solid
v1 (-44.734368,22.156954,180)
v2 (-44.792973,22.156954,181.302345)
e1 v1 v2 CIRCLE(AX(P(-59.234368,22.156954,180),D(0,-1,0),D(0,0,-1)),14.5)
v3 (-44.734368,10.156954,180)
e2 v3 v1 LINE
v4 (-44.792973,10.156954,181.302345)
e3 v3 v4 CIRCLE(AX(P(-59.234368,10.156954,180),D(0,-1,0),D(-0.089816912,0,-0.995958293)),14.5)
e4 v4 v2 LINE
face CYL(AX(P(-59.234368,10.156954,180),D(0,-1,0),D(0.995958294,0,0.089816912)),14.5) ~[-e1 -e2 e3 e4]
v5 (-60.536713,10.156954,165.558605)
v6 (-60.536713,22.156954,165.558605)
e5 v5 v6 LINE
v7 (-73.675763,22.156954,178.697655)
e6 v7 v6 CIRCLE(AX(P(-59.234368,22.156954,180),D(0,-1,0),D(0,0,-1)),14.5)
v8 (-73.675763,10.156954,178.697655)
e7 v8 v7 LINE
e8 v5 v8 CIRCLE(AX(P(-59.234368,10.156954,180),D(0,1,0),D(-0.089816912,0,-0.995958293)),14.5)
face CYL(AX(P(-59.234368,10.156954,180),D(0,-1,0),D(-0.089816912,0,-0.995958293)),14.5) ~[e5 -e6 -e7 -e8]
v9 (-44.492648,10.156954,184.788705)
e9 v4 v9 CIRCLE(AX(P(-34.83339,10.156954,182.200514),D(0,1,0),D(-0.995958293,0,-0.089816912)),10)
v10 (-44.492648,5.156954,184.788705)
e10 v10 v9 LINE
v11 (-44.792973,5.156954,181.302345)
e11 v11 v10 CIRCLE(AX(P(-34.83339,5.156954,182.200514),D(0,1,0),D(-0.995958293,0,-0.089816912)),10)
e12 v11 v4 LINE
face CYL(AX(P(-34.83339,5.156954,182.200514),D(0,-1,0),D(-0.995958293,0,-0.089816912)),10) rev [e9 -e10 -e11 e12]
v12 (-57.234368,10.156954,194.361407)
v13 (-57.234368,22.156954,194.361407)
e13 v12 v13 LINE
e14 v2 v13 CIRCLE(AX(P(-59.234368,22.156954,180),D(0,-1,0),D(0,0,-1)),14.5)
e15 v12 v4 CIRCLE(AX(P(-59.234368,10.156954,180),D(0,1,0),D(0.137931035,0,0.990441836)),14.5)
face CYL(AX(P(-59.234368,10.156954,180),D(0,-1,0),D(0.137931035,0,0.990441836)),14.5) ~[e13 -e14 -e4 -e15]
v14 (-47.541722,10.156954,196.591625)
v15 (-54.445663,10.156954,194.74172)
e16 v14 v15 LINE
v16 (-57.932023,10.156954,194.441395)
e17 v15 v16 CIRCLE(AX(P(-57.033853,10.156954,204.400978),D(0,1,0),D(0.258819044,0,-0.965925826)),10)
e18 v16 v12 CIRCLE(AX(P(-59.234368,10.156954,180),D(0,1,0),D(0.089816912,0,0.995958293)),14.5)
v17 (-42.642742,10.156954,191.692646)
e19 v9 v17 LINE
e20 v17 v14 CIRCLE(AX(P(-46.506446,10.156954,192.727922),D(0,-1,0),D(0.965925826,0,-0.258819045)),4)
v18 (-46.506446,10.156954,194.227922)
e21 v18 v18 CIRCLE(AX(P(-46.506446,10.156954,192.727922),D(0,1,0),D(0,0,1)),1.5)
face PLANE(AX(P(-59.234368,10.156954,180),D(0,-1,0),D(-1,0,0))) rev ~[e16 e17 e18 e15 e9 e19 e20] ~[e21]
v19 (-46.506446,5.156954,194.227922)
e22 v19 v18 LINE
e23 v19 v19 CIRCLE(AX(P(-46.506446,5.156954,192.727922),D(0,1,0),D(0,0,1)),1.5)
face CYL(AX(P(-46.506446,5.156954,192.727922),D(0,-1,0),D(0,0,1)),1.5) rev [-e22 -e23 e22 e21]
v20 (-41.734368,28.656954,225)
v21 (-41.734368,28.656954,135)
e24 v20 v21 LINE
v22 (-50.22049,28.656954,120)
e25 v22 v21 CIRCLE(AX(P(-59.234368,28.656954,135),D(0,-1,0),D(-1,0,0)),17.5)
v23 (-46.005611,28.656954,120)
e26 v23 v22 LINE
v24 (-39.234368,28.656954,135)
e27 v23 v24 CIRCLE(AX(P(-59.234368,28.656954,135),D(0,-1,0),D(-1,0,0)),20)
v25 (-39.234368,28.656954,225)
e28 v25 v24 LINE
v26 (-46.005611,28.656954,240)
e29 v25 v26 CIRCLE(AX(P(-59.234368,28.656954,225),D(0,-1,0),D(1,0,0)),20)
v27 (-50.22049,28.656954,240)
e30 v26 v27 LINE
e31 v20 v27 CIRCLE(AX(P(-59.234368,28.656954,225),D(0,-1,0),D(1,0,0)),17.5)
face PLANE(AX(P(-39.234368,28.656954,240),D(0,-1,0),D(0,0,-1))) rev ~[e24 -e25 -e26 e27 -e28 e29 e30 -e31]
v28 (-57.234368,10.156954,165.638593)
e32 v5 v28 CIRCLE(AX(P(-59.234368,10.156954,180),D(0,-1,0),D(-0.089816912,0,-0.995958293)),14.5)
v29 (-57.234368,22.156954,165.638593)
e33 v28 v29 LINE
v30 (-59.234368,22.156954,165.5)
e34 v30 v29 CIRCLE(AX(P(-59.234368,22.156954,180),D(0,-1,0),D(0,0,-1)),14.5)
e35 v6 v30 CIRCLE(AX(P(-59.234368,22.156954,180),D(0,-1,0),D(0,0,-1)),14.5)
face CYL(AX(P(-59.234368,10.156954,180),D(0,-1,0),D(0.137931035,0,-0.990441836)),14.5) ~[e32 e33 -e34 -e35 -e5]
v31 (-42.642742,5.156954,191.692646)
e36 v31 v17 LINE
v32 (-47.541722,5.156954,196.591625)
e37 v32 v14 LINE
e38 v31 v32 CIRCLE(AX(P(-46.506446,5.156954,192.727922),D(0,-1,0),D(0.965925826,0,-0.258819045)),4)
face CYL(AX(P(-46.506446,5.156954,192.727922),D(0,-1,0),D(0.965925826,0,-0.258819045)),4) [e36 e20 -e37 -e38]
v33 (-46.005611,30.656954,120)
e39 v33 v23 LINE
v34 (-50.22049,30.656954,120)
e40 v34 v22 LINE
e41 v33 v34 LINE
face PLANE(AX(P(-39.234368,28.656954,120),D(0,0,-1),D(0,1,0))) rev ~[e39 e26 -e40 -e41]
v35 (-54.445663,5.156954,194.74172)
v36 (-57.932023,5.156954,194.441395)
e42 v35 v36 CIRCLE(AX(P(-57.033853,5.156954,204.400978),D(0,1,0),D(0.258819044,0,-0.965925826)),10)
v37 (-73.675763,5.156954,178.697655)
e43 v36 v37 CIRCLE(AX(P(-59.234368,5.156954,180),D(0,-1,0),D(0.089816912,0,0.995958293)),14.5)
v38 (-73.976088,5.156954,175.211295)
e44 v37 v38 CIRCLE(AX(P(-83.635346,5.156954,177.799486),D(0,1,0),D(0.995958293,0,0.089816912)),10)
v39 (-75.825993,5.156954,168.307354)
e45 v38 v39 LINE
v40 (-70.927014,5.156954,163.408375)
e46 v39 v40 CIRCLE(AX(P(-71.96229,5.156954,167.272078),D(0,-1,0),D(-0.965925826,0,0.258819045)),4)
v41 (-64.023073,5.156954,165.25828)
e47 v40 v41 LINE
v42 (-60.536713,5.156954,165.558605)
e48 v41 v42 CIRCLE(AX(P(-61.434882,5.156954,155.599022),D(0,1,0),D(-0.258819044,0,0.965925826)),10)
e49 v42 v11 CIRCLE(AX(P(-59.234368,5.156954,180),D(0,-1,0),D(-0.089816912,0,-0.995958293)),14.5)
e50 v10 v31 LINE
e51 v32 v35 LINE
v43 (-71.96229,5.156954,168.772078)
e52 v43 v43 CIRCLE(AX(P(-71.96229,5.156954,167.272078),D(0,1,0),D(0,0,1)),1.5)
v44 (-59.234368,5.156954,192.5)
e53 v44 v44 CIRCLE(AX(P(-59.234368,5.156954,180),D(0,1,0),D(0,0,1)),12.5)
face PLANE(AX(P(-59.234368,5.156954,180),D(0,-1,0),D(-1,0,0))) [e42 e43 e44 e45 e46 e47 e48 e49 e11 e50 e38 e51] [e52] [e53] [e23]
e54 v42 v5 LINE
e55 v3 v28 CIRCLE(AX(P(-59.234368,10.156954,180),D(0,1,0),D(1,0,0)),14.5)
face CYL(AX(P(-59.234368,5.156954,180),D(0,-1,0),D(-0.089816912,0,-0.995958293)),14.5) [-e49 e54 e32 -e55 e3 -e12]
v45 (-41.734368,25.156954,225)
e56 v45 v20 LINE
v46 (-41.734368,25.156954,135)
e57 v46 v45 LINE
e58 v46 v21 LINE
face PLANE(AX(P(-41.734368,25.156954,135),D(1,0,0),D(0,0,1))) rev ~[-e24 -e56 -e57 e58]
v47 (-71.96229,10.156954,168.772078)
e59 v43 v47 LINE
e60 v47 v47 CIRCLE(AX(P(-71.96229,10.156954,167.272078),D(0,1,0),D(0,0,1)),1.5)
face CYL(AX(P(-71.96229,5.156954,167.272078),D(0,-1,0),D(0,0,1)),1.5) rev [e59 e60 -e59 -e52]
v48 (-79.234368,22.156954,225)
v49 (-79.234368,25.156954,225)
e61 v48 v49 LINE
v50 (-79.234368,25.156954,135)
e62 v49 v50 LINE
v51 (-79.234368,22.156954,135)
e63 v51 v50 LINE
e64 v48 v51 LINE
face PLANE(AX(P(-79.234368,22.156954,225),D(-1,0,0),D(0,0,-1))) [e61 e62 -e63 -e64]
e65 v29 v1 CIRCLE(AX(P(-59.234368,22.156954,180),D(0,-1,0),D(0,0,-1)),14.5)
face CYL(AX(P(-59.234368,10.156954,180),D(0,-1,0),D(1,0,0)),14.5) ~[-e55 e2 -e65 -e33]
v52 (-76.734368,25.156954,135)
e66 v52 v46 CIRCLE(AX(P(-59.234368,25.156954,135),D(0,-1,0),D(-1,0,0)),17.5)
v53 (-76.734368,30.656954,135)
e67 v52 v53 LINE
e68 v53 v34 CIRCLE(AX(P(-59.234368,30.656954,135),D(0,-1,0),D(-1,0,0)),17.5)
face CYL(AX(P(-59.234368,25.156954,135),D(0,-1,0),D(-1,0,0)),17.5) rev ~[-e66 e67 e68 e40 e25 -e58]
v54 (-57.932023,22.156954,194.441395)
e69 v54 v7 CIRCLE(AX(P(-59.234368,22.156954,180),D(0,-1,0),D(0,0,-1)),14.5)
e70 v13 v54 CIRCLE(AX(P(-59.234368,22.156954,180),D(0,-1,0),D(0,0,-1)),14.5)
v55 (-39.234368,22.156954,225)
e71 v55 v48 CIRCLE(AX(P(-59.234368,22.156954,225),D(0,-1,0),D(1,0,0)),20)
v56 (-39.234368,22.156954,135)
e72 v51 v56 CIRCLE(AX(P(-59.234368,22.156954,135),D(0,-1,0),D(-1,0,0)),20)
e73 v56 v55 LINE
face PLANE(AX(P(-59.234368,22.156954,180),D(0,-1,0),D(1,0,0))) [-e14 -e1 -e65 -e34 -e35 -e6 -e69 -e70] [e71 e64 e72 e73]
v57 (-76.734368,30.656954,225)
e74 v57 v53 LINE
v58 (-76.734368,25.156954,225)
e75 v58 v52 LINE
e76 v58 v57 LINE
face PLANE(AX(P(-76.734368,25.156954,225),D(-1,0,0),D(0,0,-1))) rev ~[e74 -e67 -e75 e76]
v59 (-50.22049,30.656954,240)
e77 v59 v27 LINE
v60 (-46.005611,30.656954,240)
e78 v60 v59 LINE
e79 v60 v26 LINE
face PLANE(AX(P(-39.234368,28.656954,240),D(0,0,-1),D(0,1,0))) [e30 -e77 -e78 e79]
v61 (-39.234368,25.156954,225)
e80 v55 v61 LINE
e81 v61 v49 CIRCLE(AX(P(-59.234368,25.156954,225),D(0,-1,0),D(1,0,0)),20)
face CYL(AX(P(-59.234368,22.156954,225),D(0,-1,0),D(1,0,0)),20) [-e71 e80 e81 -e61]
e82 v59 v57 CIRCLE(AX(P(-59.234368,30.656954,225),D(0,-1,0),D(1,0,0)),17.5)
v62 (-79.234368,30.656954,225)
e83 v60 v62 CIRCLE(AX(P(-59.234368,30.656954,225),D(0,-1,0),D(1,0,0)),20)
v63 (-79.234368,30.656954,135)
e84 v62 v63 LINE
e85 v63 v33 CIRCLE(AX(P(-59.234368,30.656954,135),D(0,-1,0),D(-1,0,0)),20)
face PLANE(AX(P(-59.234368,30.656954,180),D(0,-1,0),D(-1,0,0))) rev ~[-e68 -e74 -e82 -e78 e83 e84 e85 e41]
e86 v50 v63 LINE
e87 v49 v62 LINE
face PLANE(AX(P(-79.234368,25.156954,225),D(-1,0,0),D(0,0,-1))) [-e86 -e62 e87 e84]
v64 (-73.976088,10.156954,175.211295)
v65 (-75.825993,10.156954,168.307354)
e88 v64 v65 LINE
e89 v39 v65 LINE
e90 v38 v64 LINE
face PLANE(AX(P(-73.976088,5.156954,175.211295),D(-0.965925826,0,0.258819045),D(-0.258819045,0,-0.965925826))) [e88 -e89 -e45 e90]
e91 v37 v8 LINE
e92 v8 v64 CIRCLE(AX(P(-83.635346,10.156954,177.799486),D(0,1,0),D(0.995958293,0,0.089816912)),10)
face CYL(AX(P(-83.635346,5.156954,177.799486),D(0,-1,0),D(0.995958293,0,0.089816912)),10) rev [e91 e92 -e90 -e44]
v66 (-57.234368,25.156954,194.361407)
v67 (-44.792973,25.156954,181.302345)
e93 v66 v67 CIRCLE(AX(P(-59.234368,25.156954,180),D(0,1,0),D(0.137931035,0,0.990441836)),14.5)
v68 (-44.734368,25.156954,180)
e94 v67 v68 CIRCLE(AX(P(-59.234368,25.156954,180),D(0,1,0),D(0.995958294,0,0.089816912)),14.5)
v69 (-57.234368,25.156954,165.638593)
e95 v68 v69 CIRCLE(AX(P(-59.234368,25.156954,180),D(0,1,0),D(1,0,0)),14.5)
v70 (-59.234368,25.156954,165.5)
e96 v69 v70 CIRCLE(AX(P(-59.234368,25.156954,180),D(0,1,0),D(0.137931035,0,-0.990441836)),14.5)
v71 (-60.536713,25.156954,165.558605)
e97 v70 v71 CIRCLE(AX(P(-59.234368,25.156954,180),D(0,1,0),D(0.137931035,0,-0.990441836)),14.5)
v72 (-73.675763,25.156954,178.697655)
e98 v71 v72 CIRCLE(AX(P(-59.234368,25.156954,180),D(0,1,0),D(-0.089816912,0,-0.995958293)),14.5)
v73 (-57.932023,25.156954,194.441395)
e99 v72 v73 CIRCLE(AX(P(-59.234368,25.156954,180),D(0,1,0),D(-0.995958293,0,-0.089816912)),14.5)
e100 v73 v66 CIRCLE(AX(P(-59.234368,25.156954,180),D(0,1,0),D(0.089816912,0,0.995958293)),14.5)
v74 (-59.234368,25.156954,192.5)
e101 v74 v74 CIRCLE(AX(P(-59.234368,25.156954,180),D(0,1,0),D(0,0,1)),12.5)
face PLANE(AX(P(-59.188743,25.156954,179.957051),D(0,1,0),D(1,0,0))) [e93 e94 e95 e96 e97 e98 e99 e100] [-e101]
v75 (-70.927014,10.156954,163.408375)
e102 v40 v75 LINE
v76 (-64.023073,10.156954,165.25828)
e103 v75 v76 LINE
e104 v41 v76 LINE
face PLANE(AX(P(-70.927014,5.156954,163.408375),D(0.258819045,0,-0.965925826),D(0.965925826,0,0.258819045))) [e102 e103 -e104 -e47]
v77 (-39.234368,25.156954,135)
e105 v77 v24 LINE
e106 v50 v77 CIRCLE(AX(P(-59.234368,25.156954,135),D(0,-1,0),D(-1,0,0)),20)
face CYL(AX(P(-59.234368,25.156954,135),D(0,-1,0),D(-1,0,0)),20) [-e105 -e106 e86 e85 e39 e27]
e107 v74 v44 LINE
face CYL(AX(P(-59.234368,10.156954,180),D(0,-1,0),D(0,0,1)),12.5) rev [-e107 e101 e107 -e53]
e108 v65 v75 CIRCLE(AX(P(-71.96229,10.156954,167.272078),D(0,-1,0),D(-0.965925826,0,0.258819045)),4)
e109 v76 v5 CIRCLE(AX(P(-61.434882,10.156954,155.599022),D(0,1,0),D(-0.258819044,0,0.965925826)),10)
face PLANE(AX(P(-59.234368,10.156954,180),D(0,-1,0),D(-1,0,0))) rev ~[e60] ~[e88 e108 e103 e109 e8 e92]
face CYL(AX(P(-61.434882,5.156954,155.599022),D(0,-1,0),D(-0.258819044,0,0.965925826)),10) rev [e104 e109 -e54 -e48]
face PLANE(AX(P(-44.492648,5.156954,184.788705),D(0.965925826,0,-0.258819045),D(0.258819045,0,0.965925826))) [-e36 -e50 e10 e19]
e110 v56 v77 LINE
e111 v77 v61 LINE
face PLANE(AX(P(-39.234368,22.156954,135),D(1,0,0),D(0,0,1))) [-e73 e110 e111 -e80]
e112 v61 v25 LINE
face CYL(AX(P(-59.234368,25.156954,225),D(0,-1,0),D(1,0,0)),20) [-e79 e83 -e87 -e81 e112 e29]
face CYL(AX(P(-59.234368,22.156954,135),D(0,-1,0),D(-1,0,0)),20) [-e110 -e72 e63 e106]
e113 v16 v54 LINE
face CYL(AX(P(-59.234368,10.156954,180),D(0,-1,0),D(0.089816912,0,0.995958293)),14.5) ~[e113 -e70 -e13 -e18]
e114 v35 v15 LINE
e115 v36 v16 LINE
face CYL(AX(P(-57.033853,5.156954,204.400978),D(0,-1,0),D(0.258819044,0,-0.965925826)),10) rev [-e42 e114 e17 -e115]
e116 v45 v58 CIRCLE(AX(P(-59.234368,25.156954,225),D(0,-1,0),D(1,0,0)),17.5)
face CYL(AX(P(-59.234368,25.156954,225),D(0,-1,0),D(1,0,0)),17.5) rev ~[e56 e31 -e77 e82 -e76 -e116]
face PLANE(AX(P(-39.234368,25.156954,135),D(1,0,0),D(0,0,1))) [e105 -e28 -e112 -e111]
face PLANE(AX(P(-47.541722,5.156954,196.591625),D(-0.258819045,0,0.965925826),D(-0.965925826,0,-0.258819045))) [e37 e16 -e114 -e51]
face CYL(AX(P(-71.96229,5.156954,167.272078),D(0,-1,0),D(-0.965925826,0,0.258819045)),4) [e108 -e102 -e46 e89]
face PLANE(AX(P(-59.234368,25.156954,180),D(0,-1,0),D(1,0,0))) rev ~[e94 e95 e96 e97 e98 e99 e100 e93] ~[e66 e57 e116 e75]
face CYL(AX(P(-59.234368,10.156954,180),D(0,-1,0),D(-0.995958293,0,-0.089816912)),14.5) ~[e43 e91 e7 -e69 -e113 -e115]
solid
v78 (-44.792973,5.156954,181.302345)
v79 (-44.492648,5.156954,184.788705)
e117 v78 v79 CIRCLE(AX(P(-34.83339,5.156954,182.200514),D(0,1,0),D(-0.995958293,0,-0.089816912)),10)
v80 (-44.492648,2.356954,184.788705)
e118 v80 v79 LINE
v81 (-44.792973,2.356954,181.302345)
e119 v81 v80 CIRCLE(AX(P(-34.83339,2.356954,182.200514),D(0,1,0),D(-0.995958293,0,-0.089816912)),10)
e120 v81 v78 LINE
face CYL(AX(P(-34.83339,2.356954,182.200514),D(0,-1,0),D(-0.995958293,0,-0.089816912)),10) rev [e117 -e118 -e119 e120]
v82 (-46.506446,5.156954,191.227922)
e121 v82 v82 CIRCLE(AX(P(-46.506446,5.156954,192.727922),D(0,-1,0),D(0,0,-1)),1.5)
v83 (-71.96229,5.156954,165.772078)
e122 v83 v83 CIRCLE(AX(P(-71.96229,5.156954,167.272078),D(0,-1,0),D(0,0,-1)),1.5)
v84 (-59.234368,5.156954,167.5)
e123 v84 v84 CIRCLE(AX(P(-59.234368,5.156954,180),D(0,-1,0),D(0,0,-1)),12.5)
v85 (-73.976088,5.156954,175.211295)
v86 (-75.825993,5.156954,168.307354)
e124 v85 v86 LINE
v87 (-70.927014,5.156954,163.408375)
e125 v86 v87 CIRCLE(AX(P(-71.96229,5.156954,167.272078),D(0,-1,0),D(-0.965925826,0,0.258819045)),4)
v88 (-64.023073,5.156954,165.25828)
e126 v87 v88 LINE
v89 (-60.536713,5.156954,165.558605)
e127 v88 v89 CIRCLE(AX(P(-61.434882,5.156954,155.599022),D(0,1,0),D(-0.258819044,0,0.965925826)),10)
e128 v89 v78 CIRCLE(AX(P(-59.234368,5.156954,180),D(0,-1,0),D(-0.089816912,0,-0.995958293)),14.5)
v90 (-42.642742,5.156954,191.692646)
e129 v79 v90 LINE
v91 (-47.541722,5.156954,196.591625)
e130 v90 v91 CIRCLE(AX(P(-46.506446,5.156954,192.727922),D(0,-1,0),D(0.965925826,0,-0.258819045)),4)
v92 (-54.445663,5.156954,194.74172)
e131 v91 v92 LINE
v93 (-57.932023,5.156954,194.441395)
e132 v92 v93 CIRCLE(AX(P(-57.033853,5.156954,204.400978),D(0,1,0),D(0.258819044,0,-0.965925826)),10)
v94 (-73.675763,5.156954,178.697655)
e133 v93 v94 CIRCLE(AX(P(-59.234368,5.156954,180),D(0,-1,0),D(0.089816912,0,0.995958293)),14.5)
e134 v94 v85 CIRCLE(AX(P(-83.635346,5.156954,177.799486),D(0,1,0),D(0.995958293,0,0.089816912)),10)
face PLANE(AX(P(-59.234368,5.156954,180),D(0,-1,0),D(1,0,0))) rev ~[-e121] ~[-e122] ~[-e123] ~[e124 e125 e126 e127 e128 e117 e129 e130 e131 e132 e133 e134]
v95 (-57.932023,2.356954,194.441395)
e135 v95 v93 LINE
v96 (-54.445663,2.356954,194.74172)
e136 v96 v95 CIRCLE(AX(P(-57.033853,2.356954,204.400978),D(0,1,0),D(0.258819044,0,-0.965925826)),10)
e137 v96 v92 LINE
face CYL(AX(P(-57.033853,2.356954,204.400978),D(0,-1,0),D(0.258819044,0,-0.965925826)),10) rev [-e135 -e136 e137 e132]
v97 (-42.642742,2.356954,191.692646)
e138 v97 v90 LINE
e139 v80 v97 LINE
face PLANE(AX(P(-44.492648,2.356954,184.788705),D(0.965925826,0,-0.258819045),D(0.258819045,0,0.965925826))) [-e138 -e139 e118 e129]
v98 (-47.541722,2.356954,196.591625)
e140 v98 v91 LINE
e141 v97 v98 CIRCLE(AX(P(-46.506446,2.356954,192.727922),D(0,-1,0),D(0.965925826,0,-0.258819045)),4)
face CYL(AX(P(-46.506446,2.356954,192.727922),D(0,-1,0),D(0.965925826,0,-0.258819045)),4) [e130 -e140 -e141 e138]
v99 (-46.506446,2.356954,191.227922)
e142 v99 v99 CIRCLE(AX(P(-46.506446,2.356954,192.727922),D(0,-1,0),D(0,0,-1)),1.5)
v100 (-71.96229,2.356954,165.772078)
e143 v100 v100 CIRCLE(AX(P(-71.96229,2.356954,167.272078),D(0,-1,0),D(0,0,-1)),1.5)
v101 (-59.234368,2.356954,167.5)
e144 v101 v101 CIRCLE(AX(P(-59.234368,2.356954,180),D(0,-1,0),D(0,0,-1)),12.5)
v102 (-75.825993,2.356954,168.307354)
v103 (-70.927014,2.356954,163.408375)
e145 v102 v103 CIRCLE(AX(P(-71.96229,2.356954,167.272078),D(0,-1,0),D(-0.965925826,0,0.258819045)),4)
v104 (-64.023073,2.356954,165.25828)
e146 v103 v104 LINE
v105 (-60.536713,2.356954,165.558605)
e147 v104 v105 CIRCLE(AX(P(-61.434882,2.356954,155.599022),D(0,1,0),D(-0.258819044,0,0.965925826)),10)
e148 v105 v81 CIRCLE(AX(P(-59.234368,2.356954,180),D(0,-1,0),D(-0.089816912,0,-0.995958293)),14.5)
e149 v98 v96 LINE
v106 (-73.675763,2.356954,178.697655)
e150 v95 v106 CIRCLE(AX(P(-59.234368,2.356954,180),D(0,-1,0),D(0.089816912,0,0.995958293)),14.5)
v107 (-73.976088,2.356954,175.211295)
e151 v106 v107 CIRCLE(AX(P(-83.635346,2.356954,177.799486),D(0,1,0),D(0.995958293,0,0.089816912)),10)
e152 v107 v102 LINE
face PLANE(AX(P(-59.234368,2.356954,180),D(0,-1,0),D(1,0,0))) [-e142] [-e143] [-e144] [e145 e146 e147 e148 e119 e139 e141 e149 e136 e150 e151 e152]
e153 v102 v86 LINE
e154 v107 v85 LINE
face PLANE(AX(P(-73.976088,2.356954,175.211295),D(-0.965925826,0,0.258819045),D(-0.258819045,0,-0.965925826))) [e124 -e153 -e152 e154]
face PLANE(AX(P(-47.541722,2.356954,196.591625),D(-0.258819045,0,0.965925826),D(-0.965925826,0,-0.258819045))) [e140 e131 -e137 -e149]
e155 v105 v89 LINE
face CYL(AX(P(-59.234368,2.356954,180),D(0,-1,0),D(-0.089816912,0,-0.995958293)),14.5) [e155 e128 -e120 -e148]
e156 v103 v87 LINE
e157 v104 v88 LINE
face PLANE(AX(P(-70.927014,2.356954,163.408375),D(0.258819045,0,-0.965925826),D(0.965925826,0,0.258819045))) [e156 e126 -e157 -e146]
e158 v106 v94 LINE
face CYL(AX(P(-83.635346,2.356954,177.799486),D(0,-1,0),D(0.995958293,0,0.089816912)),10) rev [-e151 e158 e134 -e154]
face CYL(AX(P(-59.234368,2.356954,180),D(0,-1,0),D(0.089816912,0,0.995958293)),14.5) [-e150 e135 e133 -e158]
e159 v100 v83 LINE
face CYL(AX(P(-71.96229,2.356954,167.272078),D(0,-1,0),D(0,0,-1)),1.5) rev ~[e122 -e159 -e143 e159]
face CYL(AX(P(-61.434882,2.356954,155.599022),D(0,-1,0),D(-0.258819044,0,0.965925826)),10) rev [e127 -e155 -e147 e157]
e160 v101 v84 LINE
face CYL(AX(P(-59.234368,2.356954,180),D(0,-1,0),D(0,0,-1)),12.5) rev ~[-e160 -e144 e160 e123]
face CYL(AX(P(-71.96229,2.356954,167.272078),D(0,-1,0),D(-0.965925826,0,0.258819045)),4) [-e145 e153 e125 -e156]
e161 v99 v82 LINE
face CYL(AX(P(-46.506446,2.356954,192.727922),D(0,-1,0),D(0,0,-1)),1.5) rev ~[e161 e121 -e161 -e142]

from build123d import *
from build123d.topology import SkipClean

# Parameters (mm, degrees)
SKETCH_1_R          = 12.5
SKETCH_1_R_2        = 1.5
EXTRUDE_1_DEPTH     = 5
SKETCH_2_R          = 12.5
EXTRUDE_2_DEPTH     = 15
EXTRUDE_9_DEPTH     = 5.5
EXTRUDE_START       = 2.8
SKETCH_12_R         = 12.5
SKETCH_12_R_2       = 1.5
EXTRUDE_8_DEPTH     = 2.8
EXTRUDE_START_2     = 3
SKETCH_15_R         = 14.5
EXTRUDE_10_DEPTH    = 3
SKETCH_16_W         = 120
SKETCH_16_H         = 2
CUT_EXTRUDE_1_DEPTH = 16


with BuildPart() as part:
    # 草圖1 → 填料-伸長1 (new body)
    with BuildSketch(Plane(origin=(0, 5.156954032, 0), x_dir=(1, 0, 0), z_dir=(0, 1, 0))):
        with BuildLine():
            ThreePointArc((-44.792972571, -181.302345222), (-44.796491977, -183.058763578), (-44.492647899, -184.788704792))
            Line((-44.492647899, -184.788704792), (-42.64274246, -191.692645881))
            ThreePointArc((-42.64274246, -191.692645881), (-43.67801864, -195.556349186), (-47.541721945, -196.591625367))
            Line((-47.541721945, -196.591625367), (-54.445663034, -194.741719927))
            ThreePointArc((-54.445663034, -194.741719927), (-56.175604248, -194.43787585), (-57.932022604, -194.441395255))
            ThreePointArc((-57.932022604, -194.441395255), (-69.487416154, -190.253048327), (-73.675763082, -178.697654778))
            ThreePointArc((-73.675763082, -178.697654778), (-73.672243676, -176.941236422), (-73.976087754, -175.211295208))
            Line((-73.976087754, -175.211295208), (-75.825993193, -168.307354119))
            ThreePointArc((-75.825993193, -168.307354119), (-74.790717013, -164.443650814), (-70.927013707, -163.408374633))
            Line((-70.927013707, -163.408374633), (-64.023072619, -165.258280073))
            ThreePointArc((-64.023072619, -165.258280073), (-62.293131405, -165.56212415), (-60.536713049, -165.558604745))
            ThreePointArc((-60.536713049, -165.558604745), (-48.981319499, -169.746951673), (-44.792972571, -181.302345222))
        make_face()
        with Locations(Location((-59.234367826, -180, 0), (0, 0, 270))):
            Circle(SKETCH_1_R, mode=Mode.SUBTRACT)
        with Locations(Location((-71.962289888, -167.272077939, 0), (0, 0, 270))):
            Circle(SKETCH_1_R_2, mode=Mode.SUBTRACT)
        with Locations(Location((-46.506445765, -192.727922061, 0), (0, 0, 270))):
            Circle(SKETCH_1_R_2, mode=Mode.SUBTRACT)
    extrude(amount=EXTRUDE_1_DEPTH)

    # 草圖2 → 填料-伸長2 (add)
    with SkipClean():  # the faces are left unmerged after this step: merging them gives an invalid solid
        with BuildSketch(Plane(origin=(0, 10.156954032, 0), x_dir=(1, 0, 0), z_dir=(0, 1, 0))):
            with BuildLine():
                ThreePointArc((-57.932022604, -194.441395255), (-57.58271092, -194.405624924), (-57.234367826, -194.361406616))
                ThreePointArc((-57.234367826, -194.361406616), (-48.736051742, -190.001767813), (-44.792972571, -181.302345222))
                ThreePointArc((-44.792972571, -181.302345222), (-44.749026422, -180.651831572), (-44.734367826, -180))
                ThreePointArc((-44.734367826, -180), (-48.297046399, -170.480283618), (-57.234367826, -165.638593384))
                ThreePointArc((-57.234367826, -165.638593384), (-58.883255177, -165.504251661), (-60.536713049, -165.558604745))
                ThreePointArc((-60.536713049, -165.558604745), (-69.487416154, -169.746951673), (-73.675763082, -178.697654778))
                ThreePointArc((-73.675763082, -178.697654778), (-69.487416154, -190.253048327), (-57.932022604, -194.441395255))
            make_face()
            with Locations(Location((-59.234367826, -180, 0), (0, 0, 270))):
                Circle(SKETCH_2_R, mode=Mode.SUBTRACT)
        extrude(amount=EXTRUDE_2_DEPTH)



with BuildPart() as body_2:
    # 草圖13 → 填料-伸長9 (new body)
    with BuildSketch(Plane(origin=(0, 25.156954032, 0), x_dir=(1, 0, 0), z_dir=(0, 1, 0))):
        with BuildLine():
            Line((-79.234367826, -225), (-79.234367826, -135))
            ThreePointArc((-79.234367826, -135), (-59.234367826, -115), (-39.234367826, -135))
            Line((-39.234367826, -135), (-39.234367826, -225))
            ThreePointArc((-39.234367826, -225), (-59.234367826, -245), (-79.234367826, -225))
        make_face()
        with BuildLine():
            Line((-76.734367826, -225), (-76.734367826, -135))
            ThreePointArc((-76.734367826, -135), (-59.234367826, -117.5), (-41.734367826, -135))
            Line((-41.734367826, -135), (-41.734367826, -225))
            ThreePointArc((-41.734367826, -225), (-59.234367826, -242.5), (-76.734367826, -225))
        make_face(mode=Mode.SUBTRACT)
    extrude(amount=EXTRUDE_9_DEPTH)


with BuildPart() as body_3:
    # 草圖12 → 填料-伸長8 (new body)
    with BuildSketch(Plane.XZ.offset(-5.156954032).offset(EXTRUDE_START)):
        with BuildLine():
            Line((-44.492647899, 184.788704792), (-42.64274246, 191.692645881))
            ThreePointArc((-42.64274246, 191.692645881), (-43.67801864, 195.556349186), (-47.541721945, 196.591625367))
            Line((-47.541721945, 196.591625367), (-54.445663034, 194.741719927))
            ThreePointArc((-54.445663034, 194.741719927), (-56.175604248, 194.43787585), (-57.932022604, 194.441395255))
            ThreePointArc((-57.932022604, 194.441395255), (-69.487416154, 190.253048327), (-73.675763082, 178.697654778))
            ThreePointArc((-73.675763082, 178.697654778), (-73.672243676, 176.941236422), (-73.976087754, 175.211295208))
            Line((-73.976087754, 175.211295208), (-75.825993193, 168.307354119))
            ThreePointArc((-75.825993193, 168.307354119), (-74.790717013, 164.443650814), (-70.927013707, 163.408374633))
            Line((-70.927013707, 163.408374633), (-64.023072619, 165.258280073))
            ThreePointArc((-64.023072619, 165.258280073), (-62.293131405, 165.56212415), (-60.536713049, 165.558604745))
            ThreePointArc((-60.536713049, 165.558604745), (-48.981319499, 169.746951673), (-44.792972571, 181.302345222))
            ThreePointArc((-44.792972571, 181.302345222), (-44.796491977, 183.058763578), (-44.492647899, 184.788704792))
        make_face()
        with Locations(Location((-59.234367826, 180, 0), (0, 0, 270))):
            Circle(SKETCH_12_R, mode=Mode.SUBTRACT)
        with Locations(Location((-71.962289888, 167.272077939, 0), (0, 0, 270))):
            Circle(SKETCH_12_R_2, mode=Mode.SUBTRACT)
        with Locations(Location((-46.506445765, 192.727922061, 0), (0, 0, 270))):
            Circle(SKETCH_12_R_2, mode=Mode.SUBTRACT)
    extrude(amount=-EXTRUDE_8_DEPTH)


with BuildPart() as part_1:
    with SkipClean():  # the faces are left unmerged after this step: merging them gives an invalid solid
        add(part.part)

        add(body_2.part)  # 填料-伸長10 merges body 2
        # 草圖15 → 填料-伸長10 (add)
        with BuildSketch(Plane.XZ.offset(-25.156954032).offset(EXTRUDE_START_2)):
            with BuildLine():
                Line((-79.234367826, 225), (-79.234367826, 135))
                ThreePointArc((-79.234367826, 135), (-59.234367826, 115), (-39.234367826, 135))
                Line((-39.234367826, 135), (-39.234367826, 225))
                ThreePointArc((-39.234367826, 225), (-59.234367826, 245), (-79.234367826, 225))
            make_face()
            with Locations(Location((-59.234367826, 180, 0), (0, 0, 270))):
                Circle(SKETCH_15_R, mode=Mode.SUBTRACT)
        extrude(amount=-EXTRUDE_10_DEPTH)

    # 草圖16 → 除料-伸長1 (cut)
    with SkipClean():  # the faces are left unmerged after this step: merging them gives an invalid solid
        with BuildSketch(Plane(origin=(-39.234367826, 0, 0), x_dir=(0, 0, -1), z_dir=(1, 0, 0))):
            with Locations((-180, 29.656954032)):
                Rectangle(SKETCH_16_W, SKETCH_16_H)
        extrude(amount=-CUT_EXTRUDE_1_DEPTH, mode=Mode.SUBTRACT)


solid = Compound([body_3.part, part_1.part])
